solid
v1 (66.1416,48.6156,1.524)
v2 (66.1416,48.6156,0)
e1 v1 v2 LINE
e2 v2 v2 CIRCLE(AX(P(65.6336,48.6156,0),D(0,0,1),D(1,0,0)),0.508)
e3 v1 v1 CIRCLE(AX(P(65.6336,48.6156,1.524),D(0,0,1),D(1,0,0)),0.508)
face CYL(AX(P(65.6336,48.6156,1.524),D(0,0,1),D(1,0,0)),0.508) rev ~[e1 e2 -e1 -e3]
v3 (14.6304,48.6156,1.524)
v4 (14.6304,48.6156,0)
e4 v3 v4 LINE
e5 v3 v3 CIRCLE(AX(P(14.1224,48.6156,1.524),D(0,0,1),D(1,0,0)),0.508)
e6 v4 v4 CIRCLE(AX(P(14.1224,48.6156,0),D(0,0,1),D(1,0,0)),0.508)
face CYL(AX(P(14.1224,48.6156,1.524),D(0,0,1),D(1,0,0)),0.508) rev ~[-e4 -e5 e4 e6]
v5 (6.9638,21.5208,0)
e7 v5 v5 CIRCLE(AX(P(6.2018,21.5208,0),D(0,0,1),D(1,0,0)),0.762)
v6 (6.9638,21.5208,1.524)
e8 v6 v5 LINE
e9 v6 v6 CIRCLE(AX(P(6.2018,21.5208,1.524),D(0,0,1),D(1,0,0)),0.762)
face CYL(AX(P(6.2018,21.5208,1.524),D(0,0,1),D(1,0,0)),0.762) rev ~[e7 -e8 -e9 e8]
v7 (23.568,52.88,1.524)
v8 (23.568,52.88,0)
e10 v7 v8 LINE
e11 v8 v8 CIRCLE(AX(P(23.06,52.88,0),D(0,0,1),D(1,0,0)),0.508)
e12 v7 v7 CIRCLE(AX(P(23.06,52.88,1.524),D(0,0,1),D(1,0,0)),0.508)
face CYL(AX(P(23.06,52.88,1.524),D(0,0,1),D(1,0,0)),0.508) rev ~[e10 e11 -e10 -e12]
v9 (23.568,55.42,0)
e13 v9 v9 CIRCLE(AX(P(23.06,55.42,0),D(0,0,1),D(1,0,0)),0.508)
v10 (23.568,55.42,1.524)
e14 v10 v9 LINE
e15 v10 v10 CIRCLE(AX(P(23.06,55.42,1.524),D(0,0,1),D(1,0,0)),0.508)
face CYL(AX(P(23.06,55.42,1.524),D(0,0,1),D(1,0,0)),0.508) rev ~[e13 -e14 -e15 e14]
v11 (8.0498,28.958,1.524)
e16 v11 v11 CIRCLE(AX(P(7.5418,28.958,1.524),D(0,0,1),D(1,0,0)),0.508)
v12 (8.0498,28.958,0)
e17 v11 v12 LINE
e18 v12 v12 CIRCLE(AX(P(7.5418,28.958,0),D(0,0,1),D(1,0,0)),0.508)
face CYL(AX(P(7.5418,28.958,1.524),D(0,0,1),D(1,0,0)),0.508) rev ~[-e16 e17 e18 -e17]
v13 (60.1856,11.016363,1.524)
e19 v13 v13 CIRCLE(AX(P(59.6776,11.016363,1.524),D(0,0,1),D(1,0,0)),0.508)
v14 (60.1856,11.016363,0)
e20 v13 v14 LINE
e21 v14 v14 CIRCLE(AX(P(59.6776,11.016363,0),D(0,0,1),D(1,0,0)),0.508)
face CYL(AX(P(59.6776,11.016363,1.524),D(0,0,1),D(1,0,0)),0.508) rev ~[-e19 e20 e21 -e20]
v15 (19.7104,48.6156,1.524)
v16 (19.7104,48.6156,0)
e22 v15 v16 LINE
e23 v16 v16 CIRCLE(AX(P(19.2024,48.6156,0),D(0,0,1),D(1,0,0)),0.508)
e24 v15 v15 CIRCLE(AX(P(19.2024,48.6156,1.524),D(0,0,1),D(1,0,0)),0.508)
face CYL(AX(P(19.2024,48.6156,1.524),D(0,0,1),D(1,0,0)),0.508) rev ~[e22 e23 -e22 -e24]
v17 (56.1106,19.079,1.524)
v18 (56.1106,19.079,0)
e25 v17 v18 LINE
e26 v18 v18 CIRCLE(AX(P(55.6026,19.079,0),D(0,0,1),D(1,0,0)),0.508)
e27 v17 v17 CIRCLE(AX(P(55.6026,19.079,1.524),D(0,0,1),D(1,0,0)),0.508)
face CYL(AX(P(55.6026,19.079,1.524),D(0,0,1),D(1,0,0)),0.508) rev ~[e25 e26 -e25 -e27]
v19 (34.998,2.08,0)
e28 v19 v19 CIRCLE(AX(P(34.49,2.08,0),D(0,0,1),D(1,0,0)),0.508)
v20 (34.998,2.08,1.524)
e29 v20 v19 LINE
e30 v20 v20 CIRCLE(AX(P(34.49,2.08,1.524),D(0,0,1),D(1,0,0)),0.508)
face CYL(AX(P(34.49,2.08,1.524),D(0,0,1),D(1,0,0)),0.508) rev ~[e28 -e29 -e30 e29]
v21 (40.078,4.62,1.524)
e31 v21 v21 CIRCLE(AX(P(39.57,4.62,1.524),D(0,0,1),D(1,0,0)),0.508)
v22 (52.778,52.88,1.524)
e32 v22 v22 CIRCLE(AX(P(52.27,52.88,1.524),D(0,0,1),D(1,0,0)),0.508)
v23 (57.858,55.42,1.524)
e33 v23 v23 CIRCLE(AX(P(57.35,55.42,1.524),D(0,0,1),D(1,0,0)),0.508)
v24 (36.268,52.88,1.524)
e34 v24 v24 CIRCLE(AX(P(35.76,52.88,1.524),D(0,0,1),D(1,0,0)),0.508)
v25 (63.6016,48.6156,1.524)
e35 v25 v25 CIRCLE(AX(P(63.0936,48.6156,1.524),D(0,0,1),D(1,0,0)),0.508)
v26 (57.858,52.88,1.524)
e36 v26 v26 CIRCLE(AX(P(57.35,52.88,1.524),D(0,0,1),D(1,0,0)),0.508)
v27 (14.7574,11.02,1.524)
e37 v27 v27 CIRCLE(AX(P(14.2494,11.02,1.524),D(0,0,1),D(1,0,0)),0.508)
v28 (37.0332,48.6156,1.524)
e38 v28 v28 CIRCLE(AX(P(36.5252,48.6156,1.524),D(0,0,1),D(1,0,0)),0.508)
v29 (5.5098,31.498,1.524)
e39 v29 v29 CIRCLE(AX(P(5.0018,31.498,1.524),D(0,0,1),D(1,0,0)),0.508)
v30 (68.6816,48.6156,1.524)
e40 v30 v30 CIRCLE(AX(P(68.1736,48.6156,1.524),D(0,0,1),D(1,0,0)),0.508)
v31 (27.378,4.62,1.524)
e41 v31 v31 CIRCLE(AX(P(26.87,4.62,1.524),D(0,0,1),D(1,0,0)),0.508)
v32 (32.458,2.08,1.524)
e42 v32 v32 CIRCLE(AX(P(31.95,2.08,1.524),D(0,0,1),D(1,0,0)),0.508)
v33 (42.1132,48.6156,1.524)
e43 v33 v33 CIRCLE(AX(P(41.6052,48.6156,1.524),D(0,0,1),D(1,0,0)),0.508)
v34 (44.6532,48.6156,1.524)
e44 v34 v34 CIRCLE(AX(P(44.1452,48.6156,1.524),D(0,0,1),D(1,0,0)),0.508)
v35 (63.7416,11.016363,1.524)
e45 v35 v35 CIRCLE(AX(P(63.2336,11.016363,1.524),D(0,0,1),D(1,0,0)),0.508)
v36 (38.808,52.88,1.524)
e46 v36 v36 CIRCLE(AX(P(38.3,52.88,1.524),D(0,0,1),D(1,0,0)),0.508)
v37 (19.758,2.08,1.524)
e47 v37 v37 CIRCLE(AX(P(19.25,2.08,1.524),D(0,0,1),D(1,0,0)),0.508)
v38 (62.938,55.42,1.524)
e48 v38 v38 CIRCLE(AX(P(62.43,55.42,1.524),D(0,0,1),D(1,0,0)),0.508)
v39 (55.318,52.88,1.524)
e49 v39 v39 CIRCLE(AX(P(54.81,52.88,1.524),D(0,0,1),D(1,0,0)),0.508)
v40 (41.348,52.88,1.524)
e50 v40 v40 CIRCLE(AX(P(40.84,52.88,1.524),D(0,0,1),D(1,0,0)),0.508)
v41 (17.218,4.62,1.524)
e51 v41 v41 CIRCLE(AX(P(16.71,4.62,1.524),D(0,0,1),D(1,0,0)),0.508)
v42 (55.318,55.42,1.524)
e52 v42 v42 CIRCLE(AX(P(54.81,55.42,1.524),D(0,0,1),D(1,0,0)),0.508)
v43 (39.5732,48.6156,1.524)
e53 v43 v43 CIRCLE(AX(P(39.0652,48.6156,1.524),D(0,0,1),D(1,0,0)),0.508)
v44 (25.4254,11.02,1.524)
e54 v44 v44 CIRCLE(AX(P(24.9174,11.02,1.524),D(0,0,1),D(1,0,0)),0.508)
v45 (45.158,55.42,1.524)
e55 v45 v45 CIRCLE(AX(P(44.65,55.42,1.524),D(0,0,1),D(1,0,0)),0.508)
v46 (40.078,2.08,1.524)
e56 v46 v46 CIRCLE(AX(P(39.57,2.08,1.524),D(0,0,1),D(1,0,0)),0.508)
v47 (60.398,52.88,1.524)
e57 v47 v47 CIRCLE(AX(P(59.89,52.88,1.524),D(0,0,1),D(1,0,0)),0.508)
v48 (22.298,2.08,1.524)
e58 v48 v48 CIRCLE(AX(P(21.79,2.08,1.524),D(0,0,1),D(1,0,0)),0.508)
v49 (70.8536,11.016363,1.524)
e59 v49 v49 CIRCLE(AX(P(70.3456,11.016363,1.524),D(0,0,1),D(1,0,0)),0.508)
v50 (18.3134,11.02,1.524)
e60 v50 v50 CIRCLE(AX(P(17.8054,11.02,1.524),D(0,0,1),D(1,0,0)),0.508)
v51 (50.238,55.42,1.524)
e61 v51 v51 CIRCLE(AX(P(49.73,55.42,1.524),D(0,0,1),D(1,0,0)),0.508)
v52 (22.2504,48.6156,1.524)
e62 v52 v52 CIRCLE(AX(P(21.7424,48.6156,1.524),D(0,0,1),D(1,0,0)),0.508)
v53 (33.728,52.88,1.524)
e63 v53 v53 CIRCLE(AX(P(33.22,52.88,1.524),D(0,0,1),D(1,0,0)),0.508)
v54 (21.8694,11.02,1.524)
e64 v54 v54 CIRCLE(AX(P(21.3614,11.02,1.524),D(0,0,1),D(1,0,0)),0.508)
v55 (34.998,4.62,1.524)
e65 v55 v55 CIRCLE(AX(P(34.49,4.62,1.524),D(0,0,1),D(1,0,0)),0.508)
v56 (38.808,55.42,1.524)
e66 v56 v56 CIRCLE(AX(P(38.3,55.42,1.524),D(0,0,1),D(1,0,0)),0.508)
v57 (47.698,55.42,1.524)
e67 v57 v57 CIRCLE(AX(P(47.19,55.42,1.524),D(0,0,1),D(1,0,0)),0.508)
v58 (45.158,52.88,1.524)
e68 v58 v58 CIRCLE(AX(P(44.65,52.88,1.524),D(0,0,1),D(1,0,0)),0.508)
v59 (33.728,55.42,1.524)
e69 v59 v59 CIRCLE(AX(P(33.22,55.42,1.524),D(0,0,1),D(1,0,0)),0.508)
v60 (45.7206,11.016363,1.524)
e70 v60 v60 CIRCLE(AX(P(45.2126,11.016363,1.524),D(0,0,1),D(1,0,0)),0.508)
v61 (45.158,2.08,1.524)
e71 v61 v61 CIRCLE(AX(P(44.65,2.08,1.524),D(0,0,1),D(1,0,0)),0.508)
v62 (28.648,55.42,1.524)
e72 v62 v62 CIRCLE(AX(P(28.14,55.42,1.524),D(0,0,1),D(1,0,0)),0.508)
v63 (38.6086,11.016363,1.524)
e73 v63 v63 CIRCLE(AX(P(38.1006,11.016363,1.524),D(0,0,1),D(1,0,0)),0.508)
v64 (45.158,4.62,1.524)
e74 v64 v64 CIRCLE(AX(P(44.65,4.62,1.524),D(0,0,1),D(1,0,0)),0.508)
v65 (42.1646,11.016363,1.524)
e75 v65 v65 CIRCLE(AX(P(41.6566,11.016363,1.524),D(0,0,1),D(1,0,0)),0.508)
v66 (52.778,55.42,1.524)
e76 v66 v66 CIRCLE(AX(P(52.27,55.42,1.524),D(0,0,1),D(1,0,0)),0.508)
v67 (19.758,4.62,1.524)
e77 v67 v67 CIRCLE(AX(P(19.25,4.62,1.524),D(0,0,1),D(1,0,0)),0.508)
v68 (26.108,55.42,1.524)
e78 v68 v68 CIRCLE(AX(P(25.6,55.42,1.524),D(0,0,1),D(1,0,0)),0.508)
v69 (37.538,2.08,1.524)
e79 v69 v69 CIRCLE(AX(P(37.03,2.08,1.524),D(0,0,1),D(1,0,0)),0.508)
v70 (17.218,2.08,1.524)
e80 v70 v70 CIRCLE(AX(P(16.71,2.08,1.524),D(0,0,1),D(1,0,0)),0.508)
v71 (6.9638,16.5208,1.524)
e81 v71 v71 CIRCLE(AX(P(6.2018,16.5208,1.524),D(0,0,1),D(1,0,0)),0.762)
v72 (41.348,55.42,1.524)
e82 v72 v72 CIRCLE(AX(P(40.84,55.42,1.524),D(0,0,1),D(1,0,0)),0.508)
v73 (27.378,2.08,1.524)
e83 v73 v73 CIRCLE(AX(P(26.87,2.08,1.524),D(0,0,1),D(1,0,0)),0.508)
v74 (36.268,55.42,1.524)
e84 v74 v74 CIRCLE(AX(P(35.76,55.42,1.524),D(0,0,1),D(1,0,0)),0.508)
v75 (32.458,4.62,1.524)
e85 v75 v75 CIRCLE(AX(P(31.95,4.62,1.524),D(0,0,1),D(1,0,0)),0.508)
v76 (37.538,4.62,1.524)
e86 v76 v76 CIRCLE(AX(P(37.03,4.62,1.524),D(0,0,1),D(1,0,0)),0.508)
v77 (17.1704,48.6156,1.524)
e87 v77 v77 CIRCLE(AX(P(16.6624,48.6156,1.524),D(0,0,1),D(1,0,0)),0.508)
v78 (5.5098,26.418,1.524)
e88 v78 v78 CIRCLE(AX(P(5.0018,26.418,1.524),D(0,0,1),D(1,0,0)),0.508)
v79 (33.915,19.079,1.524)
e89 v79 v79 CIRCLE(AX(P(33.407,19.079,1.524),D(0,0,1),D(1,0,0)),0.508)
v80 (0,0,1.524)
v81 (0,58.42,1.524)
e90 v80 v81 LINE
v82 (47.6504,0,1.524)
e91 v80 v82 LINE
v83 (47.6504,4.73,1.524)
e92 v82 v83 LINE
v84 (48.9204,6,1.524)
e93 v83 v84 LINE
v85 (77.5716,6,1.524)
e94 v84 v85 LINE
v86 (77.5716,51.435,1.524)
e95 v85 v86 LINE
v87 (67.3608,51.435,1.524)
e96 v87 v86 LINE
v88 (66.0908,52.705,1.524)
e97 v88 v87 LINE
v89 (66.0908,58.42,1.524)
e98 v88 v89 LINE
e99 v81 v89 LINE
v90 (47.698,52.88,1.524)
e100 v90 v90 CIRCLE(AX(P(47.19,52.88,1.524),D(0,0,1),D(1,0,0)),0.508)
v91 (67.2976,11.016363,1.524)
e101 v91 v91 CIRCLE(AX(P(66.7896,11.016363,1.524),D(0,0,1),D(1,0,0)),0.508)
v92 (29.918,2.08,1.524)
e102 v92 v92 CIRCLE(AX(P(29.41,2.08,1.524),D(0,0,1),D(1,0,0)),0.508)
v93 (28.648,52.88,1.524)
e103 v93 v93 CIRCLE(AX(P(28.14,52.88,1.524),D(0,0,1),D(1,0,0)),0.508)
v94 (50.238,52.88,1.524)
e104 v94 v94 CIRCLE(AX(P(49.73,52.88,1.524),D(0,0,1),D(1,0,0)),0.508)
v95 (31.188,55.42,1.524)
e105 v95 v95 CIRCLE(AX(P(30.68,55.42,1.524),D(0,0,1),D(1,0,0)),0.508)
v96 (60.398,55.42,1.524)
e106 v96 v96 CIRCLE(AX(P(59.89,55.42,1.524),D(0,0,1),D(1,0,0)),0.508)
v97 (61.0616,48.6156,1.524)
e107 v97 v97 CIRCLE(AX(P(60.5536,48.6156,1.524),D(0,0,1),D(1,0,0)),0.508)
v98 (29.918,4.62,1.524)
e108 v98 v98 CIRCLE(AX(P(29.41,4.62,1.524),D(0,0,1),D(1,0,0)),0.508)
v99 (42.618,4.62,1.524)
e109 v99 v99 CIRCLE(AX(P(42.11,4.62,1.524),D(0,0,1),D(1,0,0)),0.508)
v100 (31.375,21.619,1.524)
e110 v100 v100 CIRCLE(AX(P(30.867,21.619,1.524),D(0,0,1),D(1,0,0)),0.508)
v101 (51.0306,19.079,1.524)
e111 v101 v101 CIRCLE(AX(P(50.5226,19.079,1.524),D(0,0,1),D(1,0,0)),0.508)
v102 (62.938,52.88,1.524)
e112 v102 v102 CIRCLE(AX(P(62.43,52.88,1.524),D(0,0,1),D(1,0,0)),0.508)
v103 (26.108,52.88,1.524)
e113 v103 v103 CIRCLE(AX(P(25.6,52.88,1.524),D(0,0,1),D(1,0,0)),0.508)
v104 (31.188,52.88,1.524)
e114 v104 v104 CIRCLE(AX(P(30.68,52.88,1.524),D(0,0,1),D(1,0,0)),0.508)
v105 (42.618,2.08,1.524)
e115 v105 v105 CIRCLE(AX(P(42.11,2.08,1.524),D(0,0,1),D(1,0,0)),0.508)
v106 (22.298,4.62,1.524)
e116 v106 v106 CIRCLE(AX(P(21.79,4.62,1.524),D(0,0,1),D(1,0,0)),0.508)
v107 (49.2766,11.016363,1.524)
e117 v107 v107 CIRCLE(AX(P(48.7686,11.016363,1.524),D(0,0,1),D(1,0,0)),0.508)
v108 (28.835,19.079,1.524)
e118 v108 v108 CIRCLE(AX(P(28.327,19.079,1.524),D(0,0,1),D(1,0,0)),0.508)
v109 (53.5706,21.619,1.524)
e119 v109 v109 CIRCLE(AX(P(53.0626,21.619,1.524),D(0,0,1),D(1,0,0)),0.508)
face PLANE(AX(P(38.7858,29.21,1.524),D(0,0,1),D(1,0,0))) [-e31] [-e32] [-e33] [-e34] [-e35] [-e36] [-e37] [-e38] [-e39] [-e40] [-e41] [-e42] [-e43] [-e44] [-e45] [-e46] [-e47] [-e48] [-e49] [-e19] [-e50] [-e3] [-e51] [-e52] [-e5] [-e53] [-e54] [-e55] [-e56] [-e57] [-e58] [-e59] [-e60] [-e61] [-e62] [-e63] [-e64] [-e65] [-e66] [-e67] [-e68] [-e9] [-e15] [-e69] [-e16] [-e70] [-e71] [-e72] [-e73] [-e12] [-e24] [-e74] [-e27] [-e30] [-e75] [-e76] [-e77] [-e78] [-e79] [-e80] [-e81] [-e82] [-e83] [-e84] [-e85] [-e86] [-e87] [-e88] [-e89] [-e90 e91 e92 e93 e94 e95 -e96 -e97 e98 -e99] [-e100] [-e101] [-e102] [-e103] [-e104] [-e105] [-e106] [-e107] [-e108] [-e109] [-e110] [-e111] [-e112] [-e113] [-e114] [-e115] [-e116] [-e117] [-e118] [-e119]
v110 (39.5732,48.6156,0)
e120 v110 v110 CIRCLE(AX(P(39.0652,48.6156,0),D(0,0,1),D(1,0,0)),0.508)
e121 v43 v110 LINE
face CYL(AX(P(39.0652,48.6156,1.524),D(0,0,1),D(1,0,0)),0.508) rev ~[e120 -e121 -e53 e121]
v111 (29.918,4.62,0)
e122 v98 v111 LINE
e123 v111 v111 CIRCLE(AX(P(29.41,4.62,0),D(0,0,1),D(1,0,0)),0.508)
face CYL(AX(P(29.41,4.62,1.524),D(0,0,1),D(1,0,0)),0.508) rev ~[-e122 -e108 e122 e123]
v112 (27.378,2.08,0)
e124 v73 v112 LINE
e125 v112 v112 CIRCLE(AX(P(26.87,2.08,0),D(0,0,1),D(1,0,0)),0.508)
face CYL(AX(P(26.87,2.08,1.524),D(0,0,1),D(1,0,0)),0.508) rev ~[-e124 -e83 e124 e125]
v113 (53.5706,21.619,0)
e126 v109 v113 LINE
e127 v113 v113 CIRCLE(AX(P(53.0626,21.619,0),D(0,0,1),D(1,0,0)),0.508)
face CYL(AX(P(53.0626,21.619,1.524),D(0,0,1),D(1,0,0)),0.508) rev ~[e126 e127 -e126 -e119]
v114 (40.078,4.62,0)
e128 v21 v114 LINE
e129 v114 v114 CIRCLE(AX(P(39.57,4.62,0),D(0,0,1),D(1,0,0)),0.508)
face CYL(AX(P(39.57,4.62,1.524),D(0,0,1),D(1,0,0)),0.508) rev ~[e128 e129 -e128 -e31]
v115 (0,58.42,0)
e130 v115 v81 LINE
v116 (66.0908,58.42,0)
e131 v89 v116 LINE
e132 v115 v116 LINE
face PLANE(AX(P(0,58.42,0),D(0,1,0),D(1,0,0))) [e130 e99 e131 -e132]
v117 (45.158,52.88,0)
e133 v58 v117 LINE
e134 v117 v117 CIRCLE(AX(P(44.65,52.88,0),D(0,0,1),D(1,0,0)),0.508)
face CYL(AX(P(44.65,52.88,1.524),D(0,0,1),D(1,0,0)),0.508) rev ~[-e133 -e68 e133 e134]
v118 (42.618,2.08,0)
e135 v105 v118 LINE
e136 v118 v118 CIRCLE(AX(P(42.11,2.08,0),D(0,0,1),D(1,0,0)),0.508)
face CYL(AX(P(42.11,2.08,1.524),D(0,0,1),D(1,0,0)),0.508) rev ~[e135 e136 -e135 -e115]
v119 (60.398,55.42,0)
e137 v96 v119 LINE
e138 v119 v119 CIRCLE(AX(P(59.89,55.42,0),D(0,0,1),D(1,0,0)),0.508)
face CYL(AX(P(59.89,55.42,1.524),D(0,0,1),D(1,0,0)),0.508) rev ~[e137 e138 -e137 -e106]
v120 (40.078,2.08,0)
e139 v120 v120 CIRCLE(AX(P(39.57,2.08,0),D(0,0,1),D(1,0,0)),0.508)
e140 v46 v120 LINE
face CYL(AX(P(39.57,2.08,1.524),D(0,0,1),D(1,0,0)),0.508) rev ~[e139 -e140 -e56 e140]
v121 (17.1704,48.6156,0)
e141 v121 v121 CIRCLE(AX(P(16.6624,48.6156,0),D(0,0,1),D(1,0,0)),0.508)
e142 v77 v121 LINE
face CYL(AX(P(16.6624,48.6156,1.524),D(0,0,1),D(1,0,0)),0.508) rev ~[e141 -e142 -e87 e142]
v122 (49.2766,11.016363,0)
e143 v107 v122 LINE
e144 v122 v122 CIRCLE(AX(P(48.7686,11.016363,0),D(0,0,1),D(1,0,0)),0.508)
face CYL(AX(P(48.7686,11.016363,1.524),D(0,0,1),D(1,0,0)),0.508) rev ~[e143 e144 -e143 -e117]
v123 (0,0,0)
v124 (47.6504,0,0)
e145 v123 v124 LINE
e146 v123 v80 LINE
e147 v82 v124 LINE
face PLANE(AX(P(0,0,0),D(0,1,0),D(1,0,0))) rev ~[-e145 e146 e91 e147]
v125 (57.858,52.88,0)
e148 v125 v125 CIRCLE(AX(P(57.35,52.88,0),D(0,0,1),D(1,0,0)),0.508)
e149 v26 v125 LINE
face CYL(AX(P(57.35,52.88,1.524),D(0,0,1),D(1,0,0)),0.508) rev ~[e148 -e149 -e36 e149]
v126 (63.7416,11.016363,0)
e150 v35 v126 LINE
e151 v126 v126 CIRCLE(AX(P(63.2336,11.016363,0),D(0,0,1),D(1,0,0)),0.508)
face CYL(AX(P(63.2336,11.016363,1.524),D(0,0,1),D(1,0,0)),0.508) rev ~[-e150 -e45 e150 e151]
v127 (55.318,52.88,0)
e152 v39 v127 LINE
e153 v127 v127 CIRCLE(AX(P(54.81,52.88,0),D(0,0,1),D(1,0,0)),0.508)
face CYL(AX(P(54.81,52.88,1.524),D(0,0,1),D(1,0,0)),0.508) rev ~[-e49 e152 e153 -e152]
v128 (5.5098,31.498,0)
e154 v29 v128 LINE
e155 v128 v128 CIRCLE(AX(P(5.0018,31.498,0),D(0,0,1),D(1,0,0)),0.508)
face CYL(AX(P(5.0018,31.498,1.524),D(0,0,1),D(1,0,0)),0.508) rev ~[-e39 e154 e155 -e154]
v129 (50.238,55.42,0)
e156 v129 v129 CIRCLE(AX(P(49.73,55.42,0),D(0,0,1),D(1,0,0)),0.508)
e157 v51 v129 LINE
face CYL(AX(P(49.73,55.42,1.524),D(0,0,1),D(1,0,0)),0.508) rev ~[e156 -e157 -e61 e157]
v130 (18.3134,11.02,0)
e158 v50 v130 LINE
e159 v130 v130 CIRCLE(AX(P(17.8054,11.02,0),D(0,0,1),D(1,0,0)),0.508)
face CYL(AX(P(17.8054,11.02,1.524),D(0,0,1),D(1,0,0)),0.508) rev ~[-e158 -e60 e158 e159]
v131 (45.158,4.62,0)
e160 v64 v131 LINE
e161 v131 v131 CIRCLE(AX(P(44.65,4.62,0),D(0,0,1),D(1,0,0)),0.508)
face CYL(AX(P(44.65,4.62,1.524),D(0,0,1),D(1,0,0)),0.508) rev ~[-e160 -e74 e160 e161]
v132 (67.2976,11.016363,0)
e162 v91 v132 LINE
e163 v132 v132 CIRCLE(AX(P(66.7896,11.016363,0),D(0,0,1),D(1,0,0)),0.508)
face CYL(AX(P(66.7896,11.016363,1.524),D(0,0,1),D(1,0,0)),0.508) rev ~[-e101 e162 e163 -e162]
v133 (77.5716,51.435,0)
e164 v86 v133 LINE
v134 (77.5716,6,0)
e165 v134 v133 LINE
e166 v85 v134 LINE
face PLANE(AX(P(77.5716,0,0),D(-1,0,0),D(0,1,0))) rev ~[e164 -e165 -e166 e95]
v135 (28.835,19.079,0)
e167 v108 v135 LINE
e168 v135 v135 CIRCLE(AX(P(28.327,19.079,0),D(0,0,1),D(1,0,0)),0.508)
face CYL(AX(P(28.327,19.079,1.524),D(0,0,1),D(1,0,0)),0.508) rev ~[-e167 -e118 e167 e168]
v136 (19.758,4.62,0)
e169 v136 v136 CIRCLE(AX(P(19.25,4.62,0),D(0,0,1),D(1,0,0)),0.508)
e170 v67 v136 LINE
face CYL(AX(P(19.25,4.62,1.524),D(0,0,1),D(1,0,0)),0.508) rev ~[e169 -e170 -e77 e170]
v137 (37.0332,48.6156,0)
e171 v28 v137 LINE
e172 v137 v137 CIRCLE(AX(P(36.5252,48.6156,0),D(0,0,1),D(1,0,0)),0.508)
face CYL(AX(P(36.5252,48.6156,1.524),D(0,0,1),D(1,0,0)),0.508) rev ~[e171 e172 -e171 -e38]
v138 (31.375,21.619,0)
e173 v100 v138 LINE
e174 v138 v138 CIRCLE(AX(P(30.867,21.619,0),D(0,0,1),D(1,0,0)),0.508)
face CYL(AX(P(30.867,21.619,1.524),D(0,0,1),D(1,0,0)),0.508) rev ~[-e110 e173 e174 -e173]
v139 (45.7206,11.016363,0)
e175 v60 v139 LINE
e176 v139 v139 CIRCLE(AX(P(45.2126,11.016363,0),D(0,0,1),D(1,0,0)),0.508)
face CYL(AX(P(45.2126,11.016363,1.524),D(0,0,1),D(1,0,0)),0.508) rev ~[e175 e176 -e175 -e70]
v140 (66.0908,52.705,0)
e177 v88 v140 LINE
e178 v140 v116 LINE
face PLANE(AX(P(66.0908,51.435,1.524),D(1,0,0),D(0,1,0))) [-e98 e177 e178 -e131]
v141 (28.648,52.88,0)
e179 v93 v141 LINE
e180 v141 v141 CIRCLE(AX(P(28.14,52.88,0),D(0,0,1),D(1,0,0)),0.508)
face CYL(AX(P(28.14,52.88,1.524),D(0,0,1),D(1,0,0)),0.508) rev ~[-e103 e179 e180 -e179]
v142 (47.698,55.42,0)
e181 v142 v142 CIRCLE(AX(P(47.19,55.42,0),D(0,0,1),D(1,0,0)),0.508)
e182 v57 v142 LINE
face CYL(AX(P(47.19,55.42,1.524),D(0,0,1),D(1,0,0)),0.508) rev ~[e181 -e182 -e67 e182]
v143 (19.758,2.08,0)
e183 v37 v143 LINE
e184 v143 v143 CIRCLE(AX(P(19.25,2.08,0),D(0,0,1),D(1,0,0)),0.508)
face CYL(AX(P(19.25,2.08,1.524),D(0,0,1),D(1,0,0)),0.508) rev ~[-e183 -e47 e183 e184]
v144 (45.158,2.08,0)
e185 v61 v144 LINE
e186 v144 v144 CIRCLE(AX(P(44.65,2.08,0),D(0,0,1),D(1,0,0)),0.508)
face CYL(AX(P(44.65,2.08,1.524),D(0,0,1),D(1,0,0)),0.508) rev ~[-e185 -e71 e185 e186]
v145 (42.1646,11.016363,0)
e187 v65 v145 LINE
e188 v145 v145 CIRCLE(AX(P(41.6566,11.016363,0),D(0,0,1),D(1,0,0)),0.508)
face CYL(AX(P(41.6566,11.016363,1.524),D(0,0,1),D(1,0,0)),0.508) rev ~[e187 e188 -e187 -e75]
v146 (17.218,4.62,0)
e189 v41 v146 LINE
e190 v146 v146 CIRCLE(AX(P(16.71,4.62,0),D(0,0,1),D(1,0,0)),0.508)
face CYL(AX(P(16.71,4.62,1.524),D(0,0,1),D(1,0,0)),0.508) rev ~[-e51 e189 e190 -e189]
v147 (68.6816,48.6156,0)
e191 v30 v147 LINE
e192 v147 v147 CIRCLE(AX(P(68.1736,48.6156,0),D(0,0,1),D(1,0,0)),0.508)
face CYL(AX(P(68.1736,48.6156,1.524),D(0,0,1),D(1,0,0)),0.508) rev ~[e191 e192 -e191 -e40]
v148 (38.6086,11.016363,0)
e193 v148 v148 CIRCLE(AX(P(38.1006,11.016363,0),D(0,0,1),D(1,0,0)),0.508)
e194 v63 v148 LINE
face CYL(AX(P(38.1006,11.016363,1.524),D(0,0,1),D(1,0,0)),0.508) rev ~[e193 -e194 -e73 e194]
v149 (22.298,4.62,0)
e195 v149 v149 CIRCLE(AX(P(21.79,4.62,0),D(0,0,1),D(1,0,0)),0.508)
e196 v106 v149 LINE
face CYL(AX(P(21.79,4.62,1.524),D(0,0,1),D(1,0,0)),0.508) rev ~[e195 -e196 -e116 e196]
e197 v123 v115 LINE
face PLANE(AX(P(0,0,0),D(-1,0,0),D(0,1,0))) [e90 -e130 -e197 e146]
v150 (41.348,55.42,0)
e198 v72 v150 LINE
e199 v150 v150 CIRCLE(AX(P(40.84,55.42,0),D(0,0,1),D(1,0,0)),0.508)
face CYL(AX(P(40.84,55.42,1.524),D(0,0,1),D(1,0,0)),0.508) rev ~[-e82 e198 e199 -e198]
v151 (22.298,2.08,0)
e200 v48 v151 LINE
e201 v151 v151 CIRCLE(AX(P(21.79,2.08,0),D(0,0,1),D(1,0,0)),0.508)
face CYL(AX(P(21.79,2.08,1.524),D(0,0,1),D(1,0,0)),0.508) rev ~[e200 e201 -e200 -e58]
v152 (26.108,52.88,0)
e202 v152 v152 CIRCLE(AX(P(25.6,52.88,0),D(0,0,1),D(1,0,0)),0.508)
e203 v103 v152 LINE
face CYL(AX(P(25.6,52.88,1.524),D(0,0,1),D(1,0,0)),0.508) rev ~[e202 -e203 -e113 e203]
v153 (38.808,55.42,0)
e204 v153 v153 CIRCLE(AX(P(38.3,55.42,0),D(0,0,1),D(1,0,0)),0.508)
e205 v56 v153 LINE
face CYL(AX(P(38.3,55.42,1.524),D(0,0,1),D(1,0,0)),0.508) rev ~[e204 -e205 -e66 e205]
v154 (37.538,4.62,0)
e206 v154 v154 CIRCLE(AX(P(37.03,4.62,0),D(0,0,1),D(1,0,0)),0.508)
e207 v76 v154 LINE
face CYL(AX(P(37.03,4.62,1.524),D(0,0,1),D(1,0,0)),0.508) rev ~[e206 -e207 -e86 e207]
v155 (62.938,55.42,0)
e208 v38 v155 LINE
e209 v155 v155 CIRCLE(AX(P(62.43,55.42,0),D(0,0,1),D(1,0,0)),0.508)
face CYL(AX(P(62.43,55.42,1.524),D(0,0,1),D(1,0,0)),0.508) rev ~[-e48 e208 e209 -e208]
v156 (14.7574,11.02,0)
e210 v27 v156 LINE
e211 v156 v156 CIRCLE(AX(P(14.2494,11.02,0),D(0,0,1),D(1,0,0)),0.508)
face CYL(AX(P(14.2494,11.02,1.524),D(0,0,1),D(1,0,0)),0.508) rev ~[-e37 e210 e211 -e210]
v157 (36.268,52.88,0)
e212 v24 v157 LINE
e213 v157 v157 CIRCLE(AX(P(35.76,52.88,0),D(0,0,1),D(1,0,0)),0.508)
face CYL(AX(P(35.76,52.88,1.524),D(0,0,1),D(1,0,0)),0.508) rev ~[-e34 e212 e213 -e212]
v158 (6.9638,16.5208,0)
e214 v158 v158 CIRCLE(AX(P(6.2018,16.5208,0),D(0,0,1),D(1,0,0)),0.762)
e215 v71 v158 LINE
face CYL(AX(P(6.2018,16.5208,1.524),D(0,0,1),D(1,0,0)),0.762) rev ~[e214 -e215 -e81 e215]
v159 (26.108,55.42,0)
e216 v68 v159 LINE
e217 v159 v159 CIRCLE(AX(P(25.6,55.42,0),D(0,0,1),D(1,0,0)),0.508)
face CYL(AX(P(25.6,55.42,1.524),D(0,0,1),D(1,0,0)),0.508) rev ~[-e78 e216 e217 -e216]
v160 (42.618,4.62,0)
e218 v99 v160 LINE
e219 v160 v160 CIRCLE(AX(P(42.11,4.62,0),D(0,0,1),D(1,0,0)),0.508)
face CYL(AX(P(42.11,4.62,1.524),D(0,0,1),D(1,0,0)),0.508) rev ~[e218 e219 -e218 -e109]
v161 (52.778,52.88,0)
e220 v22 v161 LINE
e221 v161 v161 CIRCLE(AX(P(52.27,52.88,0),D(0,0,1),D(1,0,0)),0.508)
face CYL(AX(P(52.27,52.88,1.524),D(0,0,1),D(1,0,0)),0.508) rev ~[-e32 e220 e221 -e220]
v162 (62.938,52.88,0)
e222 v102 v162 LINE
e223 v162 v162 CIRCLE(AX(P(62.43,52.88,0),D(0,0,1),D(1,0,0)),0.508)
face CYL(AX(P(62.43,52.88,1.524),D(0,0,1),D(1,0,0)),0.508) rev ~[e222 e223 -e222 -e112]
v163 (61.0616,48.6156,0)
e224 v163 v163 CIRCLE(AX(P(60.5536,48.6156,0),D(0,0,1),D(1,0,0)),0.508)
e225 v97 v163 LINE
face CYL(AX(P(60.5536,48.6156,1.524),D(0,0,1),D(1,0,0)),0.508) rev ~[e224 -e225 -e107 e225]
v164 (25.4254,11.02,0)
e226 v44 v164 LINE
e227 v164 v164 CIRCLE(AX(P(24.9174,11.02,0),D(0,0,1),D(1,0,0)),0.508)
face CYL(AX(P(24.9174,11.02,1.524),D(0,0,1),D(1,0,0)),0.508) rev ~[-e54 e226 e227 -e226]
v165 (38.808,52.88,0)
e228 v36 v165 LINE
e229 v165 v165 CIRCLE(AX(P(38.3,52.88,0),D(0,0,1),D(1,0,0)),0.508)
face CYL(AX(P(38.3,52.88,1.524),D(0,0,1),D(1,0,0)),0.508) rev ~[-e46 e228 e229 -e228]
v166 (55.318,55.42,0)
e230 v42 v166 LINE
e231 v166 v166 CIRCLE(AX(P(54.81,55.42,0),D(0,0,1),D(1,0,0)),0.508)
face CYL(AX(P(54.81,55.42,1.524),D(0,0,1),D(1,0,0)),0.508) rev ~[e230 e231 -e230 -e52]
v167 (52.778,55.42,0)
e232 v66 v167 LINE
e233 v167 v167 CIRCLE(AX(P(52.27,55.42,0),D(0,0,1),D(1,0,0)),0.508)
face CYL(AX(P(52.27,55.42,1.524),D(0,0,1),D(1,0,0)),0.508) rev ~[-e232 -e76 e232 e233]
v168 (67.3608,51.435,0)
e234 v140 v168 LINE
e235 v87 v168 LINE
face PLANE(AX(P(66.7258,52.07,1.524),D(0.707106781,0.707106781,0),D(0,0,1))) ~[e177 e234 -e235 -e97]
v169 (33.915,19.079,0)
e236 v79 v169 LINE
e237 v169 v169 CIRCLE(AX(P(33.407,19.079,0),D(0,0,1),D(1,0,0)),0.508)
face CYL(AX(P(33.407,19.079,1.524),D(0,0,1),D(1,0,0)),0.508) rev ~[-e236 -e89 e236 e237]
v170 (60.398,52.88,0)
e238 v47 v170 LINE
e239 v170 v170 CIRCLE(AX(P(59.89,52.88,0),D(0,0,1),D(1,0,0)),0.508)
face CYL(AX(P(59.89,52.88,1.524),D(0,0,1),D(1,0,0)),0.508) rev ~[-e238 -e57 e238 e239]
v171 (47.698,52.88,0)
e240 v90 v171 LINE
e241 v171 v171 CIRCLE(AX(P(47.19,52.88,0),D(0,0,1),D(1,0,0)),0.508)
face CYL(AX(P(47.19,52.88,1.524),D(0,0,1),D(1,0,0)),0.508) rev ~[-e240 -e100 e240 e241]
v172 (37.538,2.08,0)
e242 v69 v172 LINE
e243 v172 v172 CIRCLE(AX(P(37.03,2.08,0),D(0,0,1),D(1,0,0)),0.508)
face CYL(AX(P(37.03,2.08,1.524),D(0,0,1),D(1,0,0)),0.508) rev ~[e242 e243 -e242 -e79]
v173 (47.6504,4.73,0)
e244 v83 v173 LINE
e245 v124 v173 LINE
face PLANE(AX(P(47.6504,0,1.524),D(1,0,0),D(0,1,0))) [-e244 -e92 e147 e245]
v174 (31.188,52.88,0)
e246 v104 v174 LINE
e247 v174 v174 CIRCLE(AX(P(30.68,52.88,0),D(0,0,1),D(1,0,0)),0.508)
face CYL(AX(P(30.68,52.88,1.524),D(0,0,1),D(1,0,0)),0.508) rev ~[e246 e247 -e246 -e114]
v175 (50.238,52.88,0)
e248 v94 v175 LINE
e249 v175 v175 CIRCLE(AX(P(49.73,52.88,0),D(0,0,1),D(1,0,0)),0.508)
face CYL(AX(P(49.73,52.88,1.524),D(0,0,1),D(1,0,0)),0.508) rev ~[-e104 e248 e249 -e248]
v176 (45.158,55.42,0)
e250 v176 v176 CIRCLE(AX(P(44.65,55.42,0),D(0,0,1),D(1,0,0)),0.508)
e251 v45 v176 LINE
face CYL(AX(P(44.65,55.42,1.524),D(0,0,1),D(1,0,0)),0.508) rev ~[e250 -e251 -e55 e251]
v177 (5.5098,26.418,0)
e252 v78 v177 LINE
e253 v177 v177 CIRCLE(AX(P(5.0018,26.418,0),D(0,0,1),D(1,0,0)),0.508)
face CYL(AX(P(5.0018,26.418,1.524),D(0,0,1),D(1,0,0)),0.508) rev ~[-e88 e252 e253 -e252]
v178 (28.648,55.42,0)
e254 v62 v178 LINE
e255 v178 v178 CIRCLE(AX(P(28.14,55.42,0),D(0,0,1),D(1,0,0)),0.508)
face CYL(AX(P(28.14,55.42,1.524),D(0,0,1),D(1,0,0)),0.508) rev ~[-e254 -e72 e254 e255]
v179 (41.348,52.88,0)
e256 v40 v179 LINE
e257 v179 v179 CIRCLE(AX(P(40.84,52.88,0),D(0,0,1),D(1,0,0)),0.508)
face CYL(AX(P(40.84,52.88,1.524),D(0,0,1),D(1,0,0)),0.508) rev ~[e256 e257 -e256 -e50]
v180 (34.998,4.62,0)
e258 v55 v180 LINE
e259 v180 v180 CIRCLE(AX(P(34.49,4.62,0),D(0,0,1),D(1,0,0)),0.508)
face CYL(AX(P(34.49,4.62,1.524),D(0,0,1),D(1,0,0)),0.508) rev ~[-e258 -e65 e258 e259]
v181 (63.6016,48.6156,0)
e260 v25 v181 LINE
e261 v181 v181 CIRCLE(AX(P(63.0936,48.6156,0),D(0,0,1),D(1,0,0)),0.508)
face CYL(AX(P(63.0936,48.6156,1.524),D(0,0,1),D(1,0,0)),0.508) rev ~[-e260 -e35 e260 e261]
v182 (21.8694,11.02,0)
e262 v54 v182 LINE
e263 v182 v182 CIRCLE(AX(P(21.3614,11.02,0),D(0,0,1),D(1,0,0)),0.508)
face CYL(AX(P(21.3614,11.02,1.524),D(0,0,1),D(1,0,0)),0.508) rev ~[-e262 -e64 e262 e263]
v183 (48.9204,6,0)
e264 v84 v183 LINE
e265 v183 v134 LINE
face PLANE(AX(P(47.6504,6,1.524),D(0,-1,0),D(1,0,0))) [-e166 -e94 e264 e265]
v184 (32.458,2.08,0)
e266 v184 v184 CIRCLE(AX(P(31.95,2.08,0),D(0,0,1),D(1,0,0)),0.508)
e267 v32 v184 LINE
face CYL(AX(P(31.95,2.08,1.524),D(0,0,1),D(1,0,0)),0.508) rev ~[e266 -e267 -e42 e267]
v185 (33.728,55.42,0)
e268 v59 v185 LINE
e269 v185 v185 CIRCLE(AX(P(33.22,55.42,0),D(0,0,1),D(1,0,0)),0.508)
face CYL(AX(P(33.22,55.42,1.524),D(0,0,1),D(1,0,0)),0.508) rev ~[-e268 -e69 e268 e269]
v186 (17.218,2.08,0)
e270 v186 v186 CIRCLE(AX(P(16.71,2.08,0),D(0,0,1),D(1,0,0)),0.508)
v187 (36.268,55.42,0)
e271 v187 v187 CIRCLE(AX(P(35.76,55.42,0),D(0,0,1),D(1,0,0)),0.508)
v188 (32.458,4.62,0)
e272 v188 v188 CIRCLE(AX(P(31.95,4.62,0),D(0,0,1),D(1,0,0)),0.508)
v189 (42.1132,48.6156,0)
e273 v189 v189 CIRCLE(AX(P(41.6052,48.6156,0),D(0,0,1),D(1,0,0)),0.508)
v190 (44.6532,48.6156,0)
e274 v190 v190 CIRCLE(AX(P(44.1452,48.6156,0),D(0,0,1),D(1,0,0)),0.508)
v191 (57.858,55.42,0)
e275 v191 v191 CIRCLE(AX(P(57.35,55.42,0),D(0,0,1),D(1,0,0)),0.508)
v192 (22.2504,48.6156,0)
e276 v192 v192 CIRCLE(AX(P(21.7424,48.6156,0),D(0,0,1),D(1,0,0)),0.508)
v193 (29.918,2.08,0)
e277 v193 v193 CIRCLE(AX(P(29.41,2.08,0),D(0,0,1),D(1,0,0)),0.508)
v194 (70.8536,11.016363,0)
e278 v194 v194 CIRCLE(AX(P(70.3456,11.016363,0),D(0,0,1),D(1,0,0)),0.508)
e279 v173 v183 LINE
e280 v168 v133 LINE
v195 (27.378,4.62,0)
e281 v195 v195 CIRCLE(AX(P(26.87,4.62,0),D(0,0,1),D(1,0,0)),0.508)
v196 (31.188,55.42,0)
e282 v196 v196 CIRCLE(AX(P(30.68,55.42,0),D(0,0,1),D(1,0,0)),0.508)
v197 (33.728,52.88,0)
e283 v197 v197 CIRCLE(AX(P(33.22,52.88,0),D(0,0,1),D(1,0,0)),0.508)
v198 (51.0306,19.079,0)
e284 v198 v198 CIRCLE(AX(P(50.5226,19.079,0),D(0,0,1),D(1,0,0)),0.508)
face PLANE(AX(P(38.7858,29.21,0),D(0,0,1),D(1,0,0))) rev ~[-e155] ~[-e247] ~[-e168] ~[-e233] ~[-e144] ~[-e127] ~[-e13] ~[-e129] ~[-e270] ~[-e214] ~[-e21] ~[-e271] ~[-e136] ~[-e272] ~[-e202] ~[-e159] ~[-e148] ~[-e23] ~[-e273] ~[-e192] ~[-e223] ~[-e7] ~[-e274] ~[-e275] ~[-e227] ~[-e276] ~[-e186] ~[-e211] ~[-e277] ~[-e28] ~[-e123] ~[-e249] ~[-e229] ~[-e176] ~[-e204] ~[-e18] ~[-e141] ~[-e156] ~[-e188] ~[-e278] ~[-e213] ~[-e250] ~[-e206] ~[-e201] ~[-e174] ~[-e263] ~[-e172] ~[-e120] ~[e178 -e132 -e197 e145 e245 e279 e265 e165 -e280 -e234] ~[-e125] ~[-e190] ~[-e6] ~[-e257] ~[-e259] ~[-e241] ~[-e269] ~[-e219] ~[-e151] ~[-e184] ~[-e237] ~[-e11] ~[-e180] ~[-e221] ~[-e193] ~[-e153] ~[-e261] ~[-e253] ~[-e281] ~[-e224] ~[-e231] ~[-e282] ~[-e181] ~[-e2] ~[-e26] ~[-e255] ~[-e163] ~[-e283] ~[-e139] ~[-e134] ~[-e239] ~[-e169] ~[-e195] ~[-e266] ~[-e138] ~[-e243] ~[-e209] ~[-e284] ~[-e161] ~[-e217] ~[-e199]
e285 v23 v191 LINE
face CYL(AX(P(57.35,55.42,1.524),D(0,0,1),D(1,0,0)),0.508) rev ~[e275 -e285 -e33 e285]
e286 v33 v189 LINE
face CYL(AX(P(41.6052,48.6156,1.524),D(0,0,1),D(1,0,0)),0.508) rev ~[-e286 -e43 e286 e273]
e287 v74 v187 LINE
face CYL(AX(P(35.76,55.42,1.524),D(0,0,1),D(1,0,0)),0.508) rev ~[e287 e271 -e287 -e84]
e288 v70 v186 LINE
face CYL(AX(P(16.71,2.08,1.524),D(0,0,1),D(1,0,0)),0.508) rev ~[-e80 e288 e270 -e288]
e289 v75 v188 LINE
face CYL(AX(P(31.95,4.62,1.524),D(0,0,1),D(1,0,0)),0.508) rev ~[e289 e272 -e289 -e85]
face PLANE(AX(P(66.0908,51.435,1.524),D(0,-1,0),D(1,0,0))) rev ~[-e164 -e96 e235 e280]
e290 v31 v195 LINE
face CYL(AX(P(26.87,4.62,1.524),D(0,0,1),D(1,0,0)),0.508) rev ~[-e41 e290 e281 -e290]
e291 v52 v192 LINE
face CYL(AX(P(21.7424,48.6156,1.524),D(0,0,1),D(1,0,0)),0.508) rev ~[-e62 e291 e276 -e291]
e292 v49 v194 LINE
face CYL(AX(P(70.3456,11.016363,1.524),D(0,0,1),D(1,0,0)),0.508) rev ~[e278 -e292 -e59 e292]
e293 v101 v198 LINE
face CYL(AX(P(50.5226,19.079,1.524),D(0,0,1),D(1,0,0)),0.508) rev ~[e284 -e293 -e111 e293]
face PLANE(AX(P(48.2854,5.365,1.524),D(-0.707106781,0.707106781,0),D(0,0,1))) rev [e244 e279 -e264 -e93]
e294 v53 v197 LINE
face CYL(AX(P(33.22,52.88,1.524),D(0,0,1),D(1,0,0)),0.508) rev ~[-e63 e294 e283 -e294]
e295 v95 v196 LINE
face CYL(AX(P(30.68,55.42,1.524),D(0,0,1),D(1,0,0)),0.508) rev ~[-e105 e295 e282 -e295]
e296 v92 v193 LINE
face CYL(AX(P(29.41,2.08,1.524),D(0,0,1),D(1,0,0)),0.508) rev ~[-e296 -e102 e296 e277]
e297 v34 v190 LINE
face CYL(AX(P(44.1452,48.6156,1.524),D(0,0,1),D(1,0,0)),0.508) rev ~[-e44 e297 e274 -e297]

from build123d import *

# Parameters (mm, degrees)
SKETCH1_W           = 77.5716
SKETCH1_H           = 58.42
BOSS_EXTRUDE1_DEPTH = 1.524
SKETCH2_W           = 11.4808
SKETCH2_H           = 6.985
SKETCH2_W_2         = 29.9212
SKETCH2_H_2         = 6
CUT_EXTRUDE1_DEPTH  = 98.121429677
CHAMFER1_SIZE       = 1.27
SKETCH3_R           = 0.508
SKETCH3_R_2         = 0.762
CUT_EXTRUDE2_DEPTH  = 98.121429677


with BuildPart() as part:
    # Sketch1 → Boss-Extrude1 (new body)
    with BuildSketch(Plane.XY):
        with Locations((38.7858, 29.21)):
            Rectangle(SKETCH1_W, SKETCH1_H)
    extrude(amount=BOSS_EXTRUDE1_DEPTH)

    # Sketch2 → Cut-Extrude1 (cut, through all)
    with BuildSketch(Plane.XY.offset(1.524)):
        with Locations((71.8312, 54.9275)):
            Rectangle(SKETCH2_W, SKETCH2_H)
        with Locations((62.611, 3)):
            Rectangle(SKETCH2_W_2, SKETCH2_H_2)
    extrude(amount=-CUT_EXTRUDE1_DEPTH, mode=Mode.SUBTRACT)

    # Chamfer1
    chamfer1_edges = [part.edges().sort_by_distance(p)[0] for p in [
        (66.0908, 51.435, 0.762),
        (47.6504, 6, 0.762),
    ]]
    chamfer(chamfer1_edges, length=CHAMFER1_SIZE)

    # Sketch3 → Cut-Extrude2 (cut, through all)
    with BuildSketch(Plane.XY.offset(1.524)):
        with Locations((62.43, 52.88)):
            Circle(SKETCH3_R)
        with Locations((59.89, 52.88)):
            Circle(SKETCH3_R)
        with Locations((57.35, 52.88)):
            Circle(SKETCH3_R)
        with Locations((54.81, 52.88)):
            Circle(SKETCH3_R)
        with Locations((52.27, 52.88)):
            Circle(SKETCH3_R)
        with Locations((49.73, 52.88)):
            Circle(SKETCH3_R)
        with Locations((47.19, 52.88)):
            Circle(SKETCH3_R)
        with Locations((44.65, 52.88)):
            Circle(SKETCH3_R)
        with Locations((62.43, 55.42)):
            Circle(SKETCH3_R)
        with Locations((59.89, 55.42)):
            Circle(SKETCH3_R)
        with Locations((57.35, 55.42)):
            Circle(SKETCH3_R)
        with Locations((54.81, 55.42)):
            Circle(SKETCH3_R)
        with Locations((52.27, 55.42)):
            Circle(SKETCH3_R)
        with Locations((49.73, 55.42)):
            Circle(SKETCH3_R)
        with Locations((47.19, 55.42)):
            Circle(SKETCH3_R)
        with Locations((44.65, 55.42)):
            Circle(SKETCH3_R)
        with Locations((40.84, 52.88)):
            Circle(SKETCH3_R)
        with Locations((38.3, 52.88)):
            Circle(SKETCH3_R)
        with Locations((35.76, 52.88)):
            Circle(SKETCH3_R)
        with Locations((33.22, 52.88)):
            Circle(SKETCH3_R)
        with Locations((30.68, 52.88)):
            Circle(SKETCH3_R)
        with Locations((28.14, 52.88)):
            Circle(SKETCH3_R)
        with Locations((25.6, 52.88)):
            Circle(SKETCH3_R)
        with Locations((23.06, 52.88)):
            Circle(SKETCH3_R)
        with Locations((38.3, 55.42)):
            Circle(SKETCH3_R)
        with Locations((35.76, 55.42)):
            Circle(SKETCH3_R)
        with Locations((33.22, 55.42)):
            Circle(SKETCH3_R)
        with Locations((30.68, 55.42)):
            Circle(SKETCH3_R)
        with Locations((28.14, 55.42)):
            Circle(SKETCH3_R)
        with Locations((25.6, 55.42)):
            Circle(SKETCH3_R)
        with Locations((23.06, 55.42)):
            Circle(SKETCH3_R)
        with Locations((40.84, 55.42)):
            Circle(SKETCH3_R)
        with Locations((44.650000108, 4.62)):
            Circle(SKETCH3_R)
        with Locations((42.110000108, 4.62)):
            Circle(SKETCH3_R)
        with Locations((39.570000108, 4.62)):
            Circle(SKETCH3_R)
        with Locations((37.030000108, 4.62)):
            Circle(SKETCH3_R)
        with Locations((34.490000108, 4.62)):
            Circle(SKETCH3_R)
        with Locations((31.950000108, 4.62)):
            Circle(SKETCH3_R)
        with Locations((29.410000108, 4.62)):
            Circle(SKETCH3_R)
        with Locations((26.870000108, 4.62)):
            Circle(SKETCH3_R)
        with Locations((21.790000108, 4.62)):
            Circle(SKETCH3_R)
        with Locations((19.250000108, 4.62)):
            Circle(SKETCH3_R)
        with Locations((16.710000108, 4.62)):
            Circle(SKETCH3_R)
        with Locations((42.110000108, 2.08)):
            Circle(SKETCH3_R)
        with Locations((39.570000108, 2.08)):
            Circle(SKETCH3_R)
        with Locations((37.030000108, 2.08)):
            Circle(SKETCH3_R)
        with Locations((34.490000108, 2.08)):
            Circle(SKETCH3_R)
        with Locations((31.950000108, 2.08)):
            Circle(SKETCH3_R)
        with Locations((29.410000108, 2.08)):
            Circle(SKETCH3_R)
        with Locations((26.870000108, 2.08)):
            Circle(SKETCH3_R)
        with Locations((21.790000108, 2.08)):
            Circle(SKETCH3_R)
        with Locations((19.250000108, 2.08)):
            Circle(SKETCH3_R)
        with Locations((16.710000108, 2.08)):
            Circle(SKETCH3_R)
        with Locations((44.650000108, 2.08)):
            Circle(SKETCH3_R)
        with Locations((36.5252, 48.6156)):
            Circle(SKETCH3_R)
        with Locations((60.5536, 48.6156)):
            Circle(SKETCH3_R)
        with Locations((14.1224, 48.6156)):
            Circle(SKETCH3_R)
        with Locations((14.2494, 11.02)):
            Circle(SKETCH3_R)
        with Locations((38.1006, 11.016363144)):
            Circle(SKETCH3_R)
        with Locations((59.6776, 11.016363144)):
            Circle(SKETCH3_R)
        with Locations((6.2018, 21.5208)):
            Circle(SKETCH3_R_2)
        with Locations((6.2018, 16.5208)):
            Circle(SKETCH3_R_2)
        with Locations((63.0936, 48.6156)):
            Circle(SKETCH3_R)
        with Locations((39.0652, 48.6156)):
            Circle(SKETCH3_R)
        with Locations((16.6624, 48.6156)):
            Circle(SKETCH3_R)
        with Locations((65.6336, 48.6156)):
            Circle(SKETCH3_R)
        with Locations((41.6052, 48.6156)):
            Circle(SKETCH3_R)
        with Locations((19.2024, 48.6156)):
            Circle(SKETCH3_R)
        with Locations((68.1736, 48.6156)):
            Circle(SKETCH3_R)
        with Locations((44.1452, 48.6156)):
            Circle(SKETCH3_R)
        with Locations((21.7424, 48.6156)):
            Circle(SKETCH3_R)
        with Locations((17.8054, 11.02)):
            Circle(SKETCH3_R)
        with Locations((41.6566, 11.016363144)):
            Circle(SKETCH3_R)
        with Locations((63.2336, 11.016363144)):
            Circle(SKETCH3_R)
        with Locations((21.3614, 11.02)):
            Circle(SKETCH3_R)
        with Locations((45.2126, 11.016363144)):
            Circle(SKETCH3_R)
        with Locations((66.7896, 11.016363144)):
            Circle(SKETCH3_R)
        with Locations((24.9174, 11.02)):
            Circle(SKETCH3_R)
        with Locations((48.7686, 11.016363144)):
            Circle(SKETCH3_R)
        with Locations((70.3456, 11.016363144)):
            Circle(SKETCH3_R)
        with Locations((55.6026, 19.079)):
            Circle(SKETCH3_R)
        with Locations((50.5226, 19.079)):
            Circle(SKETCH3_R)
        with Locations((53.0626, 21.619)):
            Circle(SKETCH3_R)
        with Locations((30.867, 21.619)):
            Circle(SKETCH3_R)
        with Locations((33.407, 19.079)):
            Circle(SKETCH3_R)
        with Locations((28.327, 19.079)):
            Circle(SKETCH3_R)
        with Locations((5.0018, 26.418)):
            Circle(SKETCH3_R)
        with Locations((7.5418, 28.958)):
            Circle(SKETCH3_R)
        with Locations((5.0018, 31.498)):
            Circle(SKETCH3_R)
    extrude(amount=-CUT_EXTRUDE2_DEPTH, mode=Mode.SUBTRACT)


solid = part.part
